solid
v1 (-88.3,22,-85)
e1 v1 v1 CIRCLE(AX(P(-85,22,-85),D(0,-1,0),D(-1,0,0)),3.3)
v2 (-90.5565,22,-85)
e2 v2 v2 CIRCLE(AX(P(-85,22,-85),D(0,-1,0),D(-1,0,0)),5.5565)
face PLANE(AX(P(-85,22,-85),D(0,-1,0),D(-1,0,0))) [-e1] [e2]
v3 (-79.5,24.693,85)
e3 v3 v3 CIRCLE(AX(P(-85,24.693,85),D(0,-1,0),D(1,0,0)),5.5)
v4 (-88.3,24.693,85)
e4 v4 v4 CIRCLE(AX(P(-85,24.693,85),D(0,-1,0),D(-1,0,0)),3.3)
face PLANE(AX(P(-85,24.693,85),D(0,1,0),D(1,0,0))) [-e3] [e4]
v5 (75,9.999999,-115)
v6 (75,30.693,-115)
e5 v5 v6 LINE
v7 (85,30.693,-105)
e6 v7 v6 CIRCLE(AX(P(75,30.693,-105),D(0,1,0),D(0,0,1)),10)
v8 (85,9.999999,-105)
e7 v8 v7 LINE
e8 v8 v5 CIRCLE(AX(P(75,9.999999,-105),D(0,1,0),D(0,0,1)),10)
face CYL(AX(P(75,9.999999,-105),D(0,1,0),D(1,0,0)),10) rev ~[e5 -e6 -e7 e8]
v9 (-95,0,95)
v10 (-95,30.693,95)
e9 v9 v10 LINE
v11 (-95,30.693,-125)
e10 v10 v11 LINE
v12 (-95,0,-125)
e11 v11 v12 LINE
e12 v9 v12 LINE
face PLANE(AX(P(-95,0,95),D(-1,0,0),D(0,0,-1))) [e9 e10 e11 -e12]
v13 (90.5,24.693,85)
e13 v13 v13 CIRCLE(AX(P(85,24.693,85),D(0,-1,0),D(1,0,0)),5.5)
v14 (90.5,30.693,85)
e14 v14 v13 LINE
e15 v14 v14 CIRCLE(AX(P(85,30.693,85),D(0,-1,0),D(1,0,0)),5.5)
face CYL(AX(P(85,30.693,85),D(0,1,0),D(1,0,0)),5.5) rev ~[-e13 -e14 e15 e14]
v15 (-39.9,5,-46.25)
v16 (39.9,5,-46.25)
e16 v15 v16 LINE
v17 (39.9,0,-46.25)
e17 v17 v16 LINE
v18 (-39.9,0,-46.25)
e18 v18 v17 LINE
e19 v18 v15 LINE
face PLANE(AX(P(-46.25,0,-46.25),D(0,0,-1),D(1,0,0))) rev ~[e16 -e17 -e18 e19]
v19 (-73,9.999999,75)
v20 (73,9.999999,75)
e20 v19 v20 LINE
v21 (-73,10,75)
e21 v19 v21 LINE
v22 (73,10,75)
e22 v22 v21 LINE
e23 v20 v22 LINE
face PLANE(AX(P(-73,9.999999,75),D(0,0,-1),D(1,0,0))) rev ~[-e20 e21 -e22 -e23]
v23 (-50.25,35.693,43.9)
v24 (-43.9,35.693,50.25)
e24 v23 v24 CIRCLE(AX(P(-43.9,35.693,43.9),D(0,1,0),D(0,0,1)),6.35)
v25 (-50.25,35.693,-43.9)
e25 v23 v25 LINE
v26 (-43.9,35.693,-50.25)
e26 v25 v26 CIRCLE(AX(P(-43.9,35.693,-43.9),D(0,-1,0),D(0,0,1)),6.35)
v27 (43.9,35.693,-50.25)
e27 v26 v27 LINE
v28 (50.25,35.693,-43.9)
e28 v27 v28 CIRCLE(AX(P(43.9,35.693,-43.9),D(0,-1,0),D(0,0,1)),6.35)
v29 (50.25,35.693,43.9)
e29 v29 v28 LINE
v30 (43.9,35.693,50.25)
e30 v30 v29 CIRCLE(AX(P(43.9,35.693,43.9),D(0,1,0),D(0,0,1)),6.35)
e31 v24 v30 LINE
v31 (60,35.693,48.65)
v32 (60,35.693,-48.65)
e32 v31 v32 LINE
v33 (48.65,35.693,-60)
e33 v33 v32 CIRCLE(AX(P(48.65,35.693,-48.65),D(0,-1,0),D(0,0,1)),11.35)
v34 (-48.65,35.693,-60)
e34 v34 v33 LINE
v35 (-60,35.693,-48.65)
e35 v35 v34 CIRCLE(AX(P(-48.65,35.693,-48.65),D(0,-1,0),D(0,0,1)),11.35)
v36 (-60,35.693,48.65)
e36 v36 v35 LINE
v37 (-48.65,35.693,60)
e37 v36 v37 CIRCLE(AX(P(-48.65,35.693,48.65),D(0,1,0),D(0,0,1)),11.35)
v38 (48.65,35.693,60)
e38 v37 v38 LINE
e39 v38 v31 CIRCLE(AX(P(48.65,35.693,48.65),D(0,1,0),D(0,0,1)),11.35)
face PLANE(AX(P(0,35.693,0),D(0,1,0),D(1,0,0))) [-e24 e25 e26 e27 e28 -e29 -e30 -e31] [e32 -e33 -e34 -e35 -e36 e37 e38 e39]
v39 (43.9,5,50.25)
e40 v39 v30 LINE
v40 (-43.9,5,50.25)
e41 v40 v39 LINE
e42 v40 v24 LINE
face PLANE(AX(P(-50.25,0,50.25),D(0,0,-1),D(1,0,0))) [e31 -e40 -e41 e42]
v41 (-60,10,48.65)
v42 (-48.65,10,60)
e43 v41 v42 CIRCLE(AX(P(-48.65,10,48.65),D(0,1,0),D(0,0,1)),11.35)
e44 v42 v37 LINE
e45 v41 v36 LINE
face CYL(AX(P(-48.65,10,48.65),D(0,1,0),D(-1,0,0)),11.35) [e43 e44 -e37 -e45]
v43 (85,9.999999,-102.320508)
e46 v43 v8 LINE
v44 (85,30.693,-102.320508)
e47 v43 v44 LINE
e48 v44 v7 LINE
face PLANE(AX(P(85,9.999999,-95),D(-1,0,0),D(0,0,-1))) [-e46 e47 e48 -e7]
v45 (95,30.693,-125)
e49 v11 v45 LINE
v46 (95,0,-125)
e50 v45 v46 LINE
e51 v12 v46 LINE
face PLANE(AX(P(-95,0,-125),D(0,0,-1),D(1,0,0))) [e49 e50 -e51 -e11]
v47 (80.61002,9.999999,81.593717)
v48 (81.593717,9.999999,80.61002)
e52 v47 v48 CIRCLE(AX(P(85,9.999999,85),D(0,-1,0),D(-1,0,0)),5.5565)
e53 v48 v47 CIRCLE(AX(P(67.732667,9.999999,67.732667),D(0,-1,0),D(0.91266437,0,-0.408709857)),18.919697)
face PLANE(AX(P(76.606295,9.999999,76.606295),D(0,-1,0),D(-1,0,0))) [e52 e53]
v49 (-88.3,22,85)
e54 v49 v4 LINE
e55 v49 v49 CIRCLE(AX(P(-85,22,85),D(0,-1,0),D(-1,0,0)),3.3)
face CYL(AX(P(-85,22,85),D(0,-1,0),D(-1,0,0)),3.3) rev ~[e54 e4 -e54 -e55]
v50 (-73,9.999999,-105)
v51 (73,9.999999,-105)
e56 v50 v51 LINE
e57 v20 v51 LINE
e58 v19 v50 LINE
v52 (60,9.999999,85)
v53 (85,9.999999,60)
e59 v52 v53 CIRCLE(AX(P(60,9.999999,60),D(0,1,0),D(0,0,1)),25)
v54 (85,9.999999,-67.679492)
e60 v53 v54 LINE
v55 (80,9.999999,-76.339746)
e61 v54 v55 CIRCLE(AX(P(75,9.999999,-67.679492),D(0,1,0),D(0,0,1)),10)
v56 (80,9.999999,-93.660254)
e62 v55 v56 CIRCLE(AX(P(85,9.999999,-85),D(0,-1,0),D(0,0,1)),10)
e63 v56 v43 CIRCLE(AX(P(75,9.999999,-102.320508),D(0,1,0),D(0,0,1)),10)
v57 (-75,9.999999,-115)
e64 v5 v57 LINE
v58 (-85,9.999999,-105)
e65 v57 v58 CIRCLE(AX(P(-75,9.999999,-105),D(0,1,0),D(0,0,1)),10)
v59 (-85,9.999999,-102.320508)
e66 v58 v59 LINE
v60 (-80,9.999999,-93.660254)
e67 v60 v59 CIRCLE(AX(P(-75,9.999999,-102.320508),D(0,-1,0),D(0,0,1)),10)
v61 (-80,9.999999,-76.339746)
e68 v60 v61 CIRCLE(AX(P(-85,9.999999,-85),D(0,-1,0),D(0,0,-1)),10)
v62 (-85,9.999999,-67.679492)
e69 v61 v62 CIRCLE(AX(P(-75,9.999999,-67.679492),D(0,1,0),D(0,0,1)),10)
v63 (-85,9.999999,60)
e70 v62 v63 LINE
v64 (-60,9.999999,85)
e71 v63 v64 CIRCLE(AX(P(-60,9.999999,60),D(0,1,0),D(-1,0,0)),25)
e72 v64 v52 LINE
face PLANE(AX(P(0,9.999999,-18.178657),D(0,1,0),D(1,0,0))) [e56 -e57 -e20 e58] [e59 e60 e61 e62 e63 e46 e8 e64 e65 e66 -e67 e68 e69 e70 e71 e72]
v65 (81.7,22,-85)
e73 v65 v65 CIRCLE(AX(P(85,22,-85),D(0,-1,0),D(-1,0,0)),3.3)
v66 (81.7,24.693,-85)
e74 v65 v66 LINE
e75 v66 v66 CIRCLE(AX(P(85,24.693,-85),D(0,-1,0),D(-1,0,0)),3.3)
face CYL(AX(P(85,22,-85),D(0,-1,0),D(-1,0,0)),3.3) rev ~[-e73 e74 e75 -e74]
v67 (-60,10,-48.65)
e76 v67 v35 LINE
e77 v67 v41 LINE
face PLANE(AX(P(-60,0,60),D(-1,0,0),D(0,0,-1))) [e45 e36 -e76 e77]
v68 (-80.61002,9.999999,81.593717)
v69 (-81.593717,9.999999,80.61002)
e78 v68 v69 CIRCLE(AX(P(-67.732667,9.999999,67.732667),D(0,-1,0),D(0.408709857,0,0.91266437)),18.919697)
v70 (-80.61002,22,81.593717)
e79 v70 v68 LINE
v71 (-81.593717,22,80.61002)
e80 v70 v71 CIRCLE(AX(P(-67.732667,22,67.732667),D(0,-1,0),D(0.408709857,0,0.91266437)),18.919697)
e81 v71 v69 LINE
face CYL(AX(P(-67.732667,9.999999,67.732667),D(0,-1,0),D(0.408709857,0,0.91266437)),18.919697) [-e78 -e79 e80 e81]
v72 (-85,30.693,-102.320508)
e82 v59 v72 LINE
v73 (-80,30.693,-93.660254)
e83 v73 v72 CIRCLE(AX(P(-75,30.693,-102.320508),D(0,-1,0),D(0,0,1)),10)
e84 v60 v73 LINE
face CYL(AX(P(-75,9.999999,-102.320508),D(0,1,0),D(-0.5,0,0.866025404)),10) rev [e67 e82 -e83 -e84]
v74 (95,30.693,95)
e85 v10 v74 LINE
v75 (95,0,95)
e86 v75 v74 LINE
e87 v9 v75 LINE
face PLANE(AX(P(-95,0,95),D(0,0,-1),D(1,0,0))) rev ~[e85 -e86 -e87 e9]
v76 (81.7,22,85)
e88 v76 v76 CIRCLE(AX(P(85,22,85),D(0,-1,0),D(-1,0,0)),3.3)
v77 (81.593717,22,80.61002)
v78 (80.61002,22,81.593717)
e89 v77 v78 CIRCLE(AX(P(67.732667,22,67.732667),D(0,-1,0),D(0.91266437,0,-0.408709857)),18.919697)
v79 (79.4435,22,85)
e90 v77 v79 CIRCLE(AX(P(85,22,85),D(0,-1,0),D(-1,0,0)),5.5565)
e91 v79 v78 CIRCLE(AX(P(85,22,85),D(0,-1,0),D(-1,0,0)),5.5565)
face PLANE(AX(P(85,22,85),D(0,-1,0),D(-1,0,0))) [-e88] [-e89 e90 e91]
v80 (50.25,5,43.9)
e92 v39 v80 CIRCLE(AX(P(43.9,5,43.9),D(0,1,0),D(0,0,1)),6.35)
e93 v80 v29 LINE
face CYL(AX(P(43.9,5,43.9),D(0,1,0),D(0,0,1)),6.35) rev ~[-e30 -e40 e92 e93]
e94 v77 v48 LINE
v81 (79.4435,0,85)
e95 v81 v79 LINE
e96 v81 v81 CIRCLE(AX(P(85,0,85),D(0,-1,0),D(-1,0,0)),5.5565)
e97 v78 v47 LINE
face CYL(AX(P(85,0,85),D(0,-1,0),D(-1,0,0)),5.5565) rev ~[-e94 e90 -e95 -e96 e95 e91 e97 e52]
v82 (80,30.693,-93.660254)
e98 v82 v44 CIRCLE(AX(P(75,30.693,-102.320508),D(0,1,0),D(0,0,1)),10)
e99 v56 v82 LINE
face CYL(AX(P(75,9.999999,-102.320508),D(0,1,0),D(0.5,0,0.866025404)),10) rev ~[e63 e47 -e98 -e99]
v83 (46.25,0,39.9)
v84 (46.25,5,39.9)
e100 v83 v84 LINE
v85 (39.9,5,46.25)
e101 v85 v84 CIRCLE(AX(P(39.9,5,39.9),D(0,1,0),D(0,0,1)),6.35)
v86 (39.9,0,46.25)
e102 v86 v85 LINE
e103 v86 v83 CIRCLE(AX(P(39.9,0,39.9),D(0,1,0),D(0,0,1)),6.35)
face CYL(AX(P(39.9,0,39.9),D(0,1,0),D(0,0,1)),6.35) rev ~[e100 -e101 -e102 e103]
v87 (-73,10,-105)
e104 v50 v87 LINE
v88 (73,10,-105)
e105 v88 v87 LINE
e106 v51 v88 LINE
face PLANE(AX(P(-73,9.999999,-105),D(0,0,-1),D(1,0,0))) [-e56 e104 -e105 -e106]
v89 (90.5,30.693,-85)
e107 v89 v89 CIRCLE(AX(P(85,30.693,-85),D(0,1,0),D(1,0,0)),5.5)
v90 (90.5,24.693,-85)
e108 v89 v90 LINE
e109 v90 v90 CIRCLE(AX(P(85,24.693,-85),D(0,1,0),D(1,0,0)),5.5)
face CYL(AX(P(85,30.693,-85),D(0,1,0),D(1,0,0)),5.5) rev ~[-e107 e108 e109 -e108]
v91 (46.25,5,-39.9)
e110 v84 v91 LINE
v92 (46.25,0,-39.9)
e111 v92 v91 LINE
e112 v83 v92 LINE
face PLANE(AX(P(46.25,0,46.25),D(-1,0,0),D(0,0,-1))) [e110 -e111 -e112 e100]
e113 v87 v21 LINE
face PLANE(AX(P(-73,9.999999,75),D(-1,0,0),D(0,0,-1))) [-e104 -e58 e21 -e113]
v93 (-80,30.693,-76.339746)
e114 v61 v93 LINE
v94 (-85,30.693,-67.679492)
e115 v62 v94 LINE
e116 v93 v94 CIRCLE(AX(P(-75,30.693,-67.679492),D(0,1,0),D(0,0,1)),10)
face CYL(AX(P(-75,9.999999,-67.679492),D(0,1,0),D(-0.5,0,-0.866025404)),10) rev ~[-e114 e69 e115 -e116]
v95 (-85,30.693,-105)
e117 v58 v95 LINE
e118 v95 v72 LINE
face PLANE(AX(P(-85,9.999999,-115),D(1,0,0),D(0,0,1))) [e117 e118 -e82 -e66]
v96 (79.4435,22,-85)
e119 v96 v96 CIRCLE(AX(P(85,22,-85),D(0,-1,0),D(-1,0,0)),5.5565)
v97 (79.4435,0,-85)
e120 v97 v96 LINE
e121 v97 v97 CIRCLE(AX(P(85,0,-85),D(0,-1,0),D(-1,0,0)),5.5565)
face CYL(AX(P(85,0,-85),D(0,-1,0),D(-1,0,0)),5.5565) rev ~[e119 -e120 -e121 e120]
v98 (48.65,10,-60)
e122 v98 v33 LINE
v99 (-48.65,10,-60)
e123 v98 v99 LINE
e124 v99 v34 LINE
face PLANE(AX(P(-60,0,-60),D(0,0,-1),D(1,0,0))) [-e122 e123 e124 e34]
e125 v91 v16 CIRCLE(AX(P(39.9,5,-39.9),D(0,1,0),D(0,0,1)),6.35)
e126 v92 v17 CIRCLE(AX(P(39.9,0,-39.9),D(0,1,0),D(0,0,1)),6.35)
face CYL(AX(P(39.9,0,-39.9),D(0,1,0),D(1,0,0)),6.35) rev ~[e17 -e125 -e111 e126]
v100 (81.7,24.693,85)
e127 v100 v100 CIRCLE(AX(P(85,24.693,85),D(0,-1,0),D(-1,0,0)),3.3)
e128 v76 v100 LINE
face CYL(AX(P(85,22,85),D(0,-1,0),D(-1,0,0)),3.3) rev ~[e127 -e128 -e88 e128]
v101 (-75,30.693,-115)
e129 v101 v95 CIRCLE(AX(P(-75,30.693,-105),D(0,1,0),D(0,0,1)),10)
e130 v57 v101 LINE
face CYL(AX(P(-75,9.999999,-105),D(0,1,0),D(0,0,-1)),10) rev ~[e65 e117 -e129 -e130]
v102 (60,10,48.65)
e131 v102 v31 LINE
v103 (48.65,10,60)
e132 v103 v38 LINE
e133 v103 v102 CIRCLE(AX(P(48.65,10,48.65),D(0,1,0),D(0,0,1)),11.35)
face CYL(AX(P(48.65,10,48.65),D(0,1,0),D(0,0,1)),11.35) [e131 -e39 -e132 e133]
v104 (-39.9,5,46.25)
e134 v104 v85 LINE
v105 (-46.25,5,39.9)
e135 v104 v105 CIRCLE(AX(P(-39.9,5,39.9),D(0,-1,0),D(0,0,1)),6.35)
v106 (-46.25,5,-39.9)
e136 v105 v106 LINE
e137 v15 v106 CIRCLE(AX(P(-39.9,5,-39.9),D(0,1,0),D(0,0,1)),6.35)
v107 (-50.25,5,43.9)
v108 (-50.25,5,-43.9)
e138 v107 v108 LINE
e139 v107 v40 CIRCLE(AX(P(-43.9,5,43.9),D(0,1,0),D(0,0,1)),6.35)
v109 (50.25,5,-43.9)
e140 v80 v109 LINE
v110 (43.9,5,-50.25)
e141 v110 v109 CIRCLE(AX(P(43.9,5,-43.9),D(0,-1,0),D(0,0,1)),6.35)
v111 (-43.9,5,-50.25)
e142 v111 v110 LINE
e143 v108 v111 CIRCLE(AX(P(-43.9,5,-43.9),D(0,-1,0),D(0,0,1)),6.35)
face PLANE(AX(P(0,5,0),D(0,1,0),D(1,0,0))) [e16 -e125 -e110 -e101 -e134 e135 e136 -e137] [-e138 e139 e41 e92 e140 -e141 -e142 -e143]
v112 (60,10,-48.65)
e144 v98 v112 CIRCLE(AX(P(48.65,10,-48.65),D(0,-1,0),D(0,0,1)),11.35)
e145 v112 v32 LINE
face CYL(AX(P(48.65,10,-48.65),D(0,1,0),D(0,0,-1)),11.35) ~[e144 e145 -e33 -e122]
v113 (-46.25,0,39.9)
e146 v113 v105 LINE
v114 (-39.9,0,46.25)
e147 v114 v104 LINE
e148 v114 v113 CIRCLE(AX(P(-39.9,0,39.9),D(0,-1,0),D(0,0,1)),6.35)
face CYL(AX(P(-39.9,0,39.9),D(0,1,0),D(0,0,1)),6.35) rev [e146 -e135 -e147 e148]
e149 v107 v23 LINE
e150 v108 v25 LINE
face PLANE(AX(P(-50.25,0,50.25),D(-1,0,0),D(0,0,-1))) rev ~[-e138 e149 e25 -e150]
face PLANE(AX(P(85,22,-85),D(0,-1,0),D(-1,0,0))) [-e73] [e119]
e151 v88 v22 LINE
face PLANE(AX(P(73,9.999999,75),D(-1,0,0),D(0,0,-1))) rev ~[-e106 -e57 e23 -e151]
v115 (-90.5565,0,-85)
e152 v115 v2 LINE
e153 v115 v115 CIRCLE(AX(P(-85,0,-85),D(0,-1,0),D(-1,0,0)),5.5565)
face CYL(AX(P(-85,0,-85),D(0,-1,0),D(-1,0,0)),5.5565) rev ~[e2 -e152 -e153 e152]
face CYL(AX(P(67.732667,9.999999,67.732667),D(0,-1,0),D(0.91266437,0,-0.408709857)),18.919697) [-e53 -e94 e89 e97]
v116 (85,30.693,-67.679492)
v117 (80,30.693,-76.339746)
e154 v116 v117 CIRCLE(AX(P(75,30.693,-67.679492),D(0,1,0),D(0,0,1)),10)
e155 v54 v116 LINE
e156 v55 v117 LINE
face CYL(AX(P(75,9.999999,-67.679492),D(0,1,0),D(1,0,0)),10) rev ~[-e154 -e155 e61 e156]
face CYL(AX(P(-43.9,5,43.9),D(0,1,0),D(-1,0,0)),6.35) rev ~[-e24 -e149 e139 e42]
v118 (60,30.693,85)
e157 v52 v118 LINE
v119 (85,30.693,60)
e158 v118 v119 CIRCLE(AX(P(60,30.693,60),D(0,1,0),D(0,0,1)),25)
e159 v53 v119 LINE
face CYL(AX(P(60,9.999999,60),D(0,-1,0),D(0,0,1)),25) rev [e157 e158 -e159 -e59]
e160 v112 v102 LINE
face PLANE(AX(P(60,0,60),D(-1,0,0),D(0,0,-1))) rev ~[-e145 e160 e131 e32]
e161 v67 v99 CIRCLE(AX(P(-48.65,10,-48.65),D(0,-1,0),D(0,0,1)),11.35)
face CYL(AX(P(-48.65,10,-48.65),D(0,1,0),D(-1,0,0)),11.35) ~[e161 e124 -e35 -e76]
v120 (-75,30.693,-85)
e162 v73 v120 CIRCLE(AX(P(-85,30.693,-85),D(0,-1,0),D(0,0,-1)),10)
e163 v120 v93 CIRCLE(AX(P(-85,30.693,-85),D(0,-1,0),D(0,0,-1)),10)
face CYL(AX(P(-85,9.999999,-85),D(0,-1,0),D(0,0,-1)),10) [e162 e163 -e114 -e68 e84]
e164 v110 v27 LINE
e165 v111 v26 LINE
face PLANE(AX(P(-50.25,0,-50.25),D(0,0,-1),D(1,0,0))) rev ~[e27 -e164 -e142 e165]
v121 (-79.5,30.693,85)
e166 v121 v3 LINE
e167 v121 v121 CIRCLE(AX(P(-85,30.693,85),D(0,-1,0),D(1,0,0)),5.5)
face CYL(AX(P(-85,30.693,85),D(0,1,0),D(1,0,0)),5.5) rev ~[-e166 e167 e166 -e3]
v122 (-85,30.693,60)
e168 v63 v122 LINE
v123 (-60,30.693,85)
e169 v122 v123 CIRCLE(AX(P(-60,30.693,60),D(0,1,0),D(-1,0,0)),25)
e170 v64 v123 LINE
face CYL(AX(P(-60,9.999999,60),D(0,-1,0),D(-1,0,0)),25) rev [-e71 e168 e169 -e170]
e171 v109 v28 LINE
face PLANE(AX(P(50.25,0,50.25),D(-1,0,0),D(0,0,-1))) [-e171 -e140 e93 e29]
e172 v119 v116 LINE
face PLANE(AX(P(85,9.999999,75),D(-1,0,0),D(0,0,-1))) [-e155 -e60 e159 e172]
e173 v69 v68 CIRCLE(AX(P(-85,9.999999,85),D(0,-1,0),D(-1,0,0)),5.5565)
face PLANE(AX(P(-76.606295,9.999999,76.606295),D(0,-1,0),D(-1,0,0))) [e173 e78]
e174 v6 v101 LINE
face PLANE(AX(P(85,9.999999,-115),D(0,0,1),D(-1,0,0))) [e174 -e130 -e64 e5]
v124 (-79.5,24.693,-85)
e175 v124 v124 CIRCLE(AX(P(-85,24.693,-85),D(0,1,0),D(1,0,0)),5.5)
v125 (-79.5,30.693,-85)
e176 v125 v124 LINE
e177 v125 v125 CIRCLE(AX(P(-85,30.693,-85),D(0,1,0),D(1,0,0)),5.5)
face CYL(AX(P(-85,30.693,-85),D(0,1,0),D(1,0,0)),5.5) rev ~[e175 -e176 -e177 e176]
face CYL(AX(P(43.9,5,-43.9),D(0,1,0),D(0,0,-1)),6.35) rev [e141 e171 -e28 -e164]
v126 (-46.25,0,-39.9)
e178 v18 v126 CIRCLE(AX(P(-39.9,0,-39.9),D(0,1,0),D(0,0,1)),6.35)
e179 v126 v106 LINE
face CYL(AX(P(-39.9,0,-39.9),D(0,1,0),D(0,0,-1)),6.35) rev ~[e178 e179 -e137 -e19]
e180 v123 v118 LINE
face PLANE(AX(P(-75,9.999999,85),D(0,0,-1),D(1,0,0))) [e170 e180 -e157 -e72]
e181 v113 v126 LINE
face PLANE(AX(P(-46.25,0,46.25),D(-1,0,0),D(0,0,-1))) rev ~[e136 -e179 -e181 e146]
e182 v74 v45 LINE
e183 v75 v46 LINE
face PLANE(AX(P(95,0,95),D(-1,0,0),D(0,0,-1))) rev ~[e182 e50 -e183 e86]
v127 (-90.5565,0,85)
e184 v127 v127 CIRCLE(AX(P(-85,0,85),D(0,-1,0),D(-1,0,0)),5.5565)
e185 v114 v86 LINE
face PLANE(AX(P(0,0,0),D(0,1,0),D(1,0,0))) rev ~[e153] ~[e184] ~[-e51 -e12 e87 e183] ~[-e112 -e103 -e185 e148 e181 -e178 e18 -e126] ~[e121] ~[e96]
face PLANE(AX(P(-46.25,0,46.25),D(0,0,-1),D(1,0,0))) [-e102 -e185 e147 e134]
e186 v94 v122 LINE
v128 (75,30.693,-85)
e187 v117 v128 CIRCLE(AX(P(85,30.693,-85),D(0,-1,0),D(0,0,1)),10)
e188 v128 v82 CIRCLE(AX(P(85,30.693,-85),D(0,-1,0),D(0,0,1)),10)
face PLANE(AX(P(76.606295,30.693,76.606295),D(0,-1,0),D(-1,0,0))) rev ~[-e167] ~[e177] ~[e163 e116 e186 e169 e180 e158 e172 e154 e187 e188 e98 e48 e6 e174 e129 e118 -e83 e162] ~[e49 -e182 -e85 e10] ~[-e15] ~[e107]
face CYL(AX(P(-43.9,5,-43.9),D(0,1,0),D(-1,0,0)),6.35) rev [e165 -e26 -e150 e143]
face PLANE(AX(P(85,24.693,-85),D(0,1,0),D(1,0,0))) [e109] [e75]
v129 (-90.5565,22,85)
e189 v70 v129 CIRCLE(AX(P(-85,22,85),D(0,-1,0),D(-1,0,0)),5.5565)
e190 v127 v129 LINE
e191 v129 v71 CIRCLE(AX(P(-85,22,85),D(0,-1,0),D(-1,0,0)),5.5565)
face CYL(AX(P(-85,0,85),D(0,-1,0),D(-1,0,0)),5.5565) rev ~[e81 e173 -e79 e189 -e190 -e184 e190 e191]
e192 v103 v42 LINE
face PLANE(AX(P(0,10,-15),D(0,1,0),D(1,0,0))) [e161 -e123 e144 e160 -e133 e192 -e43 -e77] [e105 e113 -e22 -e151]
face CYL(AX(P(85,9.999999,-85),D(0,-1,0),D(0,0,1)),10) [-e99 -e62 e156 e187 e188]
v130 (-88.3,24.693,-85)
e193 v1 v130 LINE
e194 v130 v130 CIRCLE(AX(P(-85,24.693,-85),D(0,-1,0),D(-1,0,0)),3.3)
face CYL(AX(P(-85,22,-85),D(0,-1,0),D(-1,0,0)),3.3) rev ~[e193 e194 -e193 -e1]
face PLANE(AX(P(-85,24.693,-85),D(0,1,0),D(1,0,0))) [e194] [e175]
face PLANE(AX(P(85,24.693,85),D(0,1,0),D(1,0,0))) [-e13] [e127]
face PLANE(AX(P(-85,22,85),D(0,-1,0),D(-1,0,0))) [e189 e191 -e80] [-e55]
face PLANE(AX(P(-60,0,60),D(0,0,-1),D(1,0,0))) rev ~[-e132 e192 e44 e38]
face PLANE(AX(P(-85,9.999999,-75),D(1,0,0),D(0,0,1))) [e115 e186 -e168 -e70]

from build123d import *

# Parameters (mm, degrees)
SKETCH1_W           = 190
SKETCH1_H           = 220
SKETCH1_W_2         = 150
SKETCH1_H_2         = 180
SKETCH1_W_3         = 120
SKETCH1_H_3         = 120
SKETCH1_W_4         = 100
SKETCH1_H_4         = 100
BOSS_EXTRUDE1_DEPTH = 10
SKETCH1_3_W         = 190
SKETCH1_3_H         = 220
SKETCH1_3_W_2       = 150
SKETCH1_3_H_2       = 180
SKETCH1_3_W_3       = 120
SKETCH1_3_H_3       = 120
SKETCH1_3_W_4       = 100
SKETCH1_3_H_4       = 100
BOSS_EXTRUDE2_DEPTH = 35.693
SKETCH3_W           = 190
SKETCH3_H           = 220
SKETCH3_W_2         = 150
SKETCH3_H_2         = 180
CUT_EXTRUDE1_DEPTH  = 5
SKETCH5_R           = 5.5565
CUT_EXTRUDE2_DEPTH  = 22
SKETCH7_R           = 3.3
CUT_EXTRUDE3_DEPTH  = 14.693
CUT_EXTRUDE4_START  = -1e-06
SKETCH8_W           = 146
SKETCH8_H           = 180
CUT_EXTRUDE4_DEPTH  = 20.693001
FILLET1_R           = 10
SKETCH10_R          = 5.5
CUT_EXTRUDE5_DEPTH  = 6
BOSS_EXTRUDE5_START = -1e-06
BOSS_EXTRUDE5_DEPTH = 20.693001
CUT_EXTRUDE10_REACH = 37.693
SKETCH13_W          = 100.5
SKETCH13_H          = 100.5
FILLET2_R           = 11.35
SKETCH14_W          = 100.5
SKETCH14_H          = 100.5
SKETCH14_W_2        = 92.5
SKETCH14_H_2        = 92.5
BOSS_EXTRUDE6_DEPTH = 5
FILLET3_R           = 6.35
FILLET4_R           = 6.35


with BuildPart() as part:
    # Sketch1 → Boss-Extrude1 (new body)
    with BuildSketch(Plane(origin=(0, 0, 0), x_dir=(1, 0, 0), z_dir=(0, 1, 0))):
        with Locations((0, 15)):
            Rectangle(SKETCH1_W, SKETCH1_H)
        with Locations((0, 15)):
            Rectangle(SKETCH1_W_2, SKETCH1_H_2, mode=Mode.SUBTRACT)
        with Locations((0, 15)):
            Rectangle(SKETCH1_W_2, SKETCH1_H_2)
        Rectangle(SKETCH1_W_3, SKETCH1_H_3, mode=Mode.SUBTRACT)
        Rectangle(SKETCH1_W_3, SKETCH1_H_3)
        Rectangle(SKETCH1_W_4, SKETCH1_H_4, mode=Mode.SUBTRACT)
    extrude(amount=BOSS_EXTRUDE1_DEPTH)

    # Sketch1<3> → Boss-Extrude2 (add)
    with BuildSketch(Plane(origin=(0, 0, 0), x_dir=(1, 0, 0), z_dir=(0, 1, 0))):
        with Locations((0, 15)):
            Rectangle(SKETCH1_3_W, SKETCH1_3_H)
        with Locations((0, 15)):
            Rectangle(SKETCH1_3_W_2, SKETCH1_3_H_2, mode=Mode.SUBTRACT)
        Rectangle(SKETCH1_3_W_3, SKETCH1_3_H_3)
        Rectangle(SKETCH1_3_W_4, SKETCH1_3_H_4, mode=Mode.SUBTRACT)
    extrude(amount=BOSS_EXTRUDE2_DEPTH)

    # Sketch3 → Cut-Extrude1 (cut)
    with BuildSketch(Plane(origin=(0, 35.693, 0), x_dir=(1, 0, 0), z_dir=(0, 1, 0))):
        with Locations((0, 15)):
            Rectangle(SKETCH3_W, SKETCH3_H)
        with Locations((0, 15)):
            Rectangle(SKETCH3_W_2, SKETCH3_H_2, mode=Mode.SUBTRACT)
    extrude(amount=-CUT_EXTRUDE1_DEPTH, mode=Mode.SUBTRACT)

    # Sketch5 → Cut-Extrude2 (cut)
    with BuildSketch(Plane(origin=(0, 0, 0), x_dir=(-1, 0, 0), z_dir=(0, -1, 0))):
        with Locations((85, 85)):
            Circle(SKETCH5_R)
        with Locations((85, -85)):
            Circle(SKETCH5_R)
        with Locations((-85, -85)):
            Circle(SKETCH5_R)
        with Locations((-85, 85)):
            Circle(SKETCH5_R)
    extrude(amount=-CUT_EXTRUDE2_DEPTH, mode=Mode.SUBTRACT)

    # Sketch7 → Cut-Extrude3 (cut, through all)
    with BuildSketch(Plane(origin=(0, 22, 0), x_dir=(-1, 0, 0), z_dir=(0, -1, 0))):
        with Locations((85, 85)):
            Circle(SKETCH7_R)
        with Locations((85, -85)):
            Circle(SKETCH7_R)
        with Locations((-85, -85)):
            Circle(SKETCH7_R)
        with Locations((-85, 85)):
            Circle(SKETCH7_R)
    extrude(amount=-CUT_EXTRUDE3_DEPTH, mode=Mode.SUBTRACT)

    # Sketch8 → Cut-Extrude4 (cut)
    with BuildSketch(Plane(origin=(0, 10, 0), x_dir=(1, 0, 0), z_dir=(0, 1, 0)).offset(CUT_EXTRUDE4_START)):
        with BuildLine():
            Line((85, 115), (-85, 115))
            Line((-85, 115), (-85, 95))
            ThreePointArc((-85, 95), (-75, 85), (-85, 75))
            Line((-85, 75), (-85, -75))
            ThreePointArc((-85, -75), (-77.928932188, -77.928932188), (-75, -85))
            Line((-75, -85), (75, -85))
            ThreePointArc((75, -85), (77.928932188, -77.928932188), (85, -75))
            Line((85, -75), (85, 75))
            ThreePointArc((85, 75), (75, 85), (85, 95))
            Line((85, 95), (85, 115))
        make_face()
        with Locations((0, 15)):
            Rectangle(SKETCH8_W, SKETCH8_H, mode=Mode.SUBTRACT)
    extrude(amount=CUT_EXTRUDE4_DEPTH, mode=Mode.SUBTRACT)

    # Fillet1
    fillet1_edges = [part.edges().sort_by_distance(p)[0] for p in [
        (85, 20.3464995, -75),
        (-85, 20.3464995, -75),
        (-85, 20.3464995, -95),
        (85, 20.3464995, -95),
        (85, 20.3464995, -115),
        (-85, 20.3464995, -115),
    ]]
    fillet(fillet1_edges, radius=FILLET1_R)

    # Sketch10 → Cut-Extrude5 (cut)
    with BuildSketch(Plane(origin=(0, 30.693, 0), x_dir=(1, 0, 0), z_dir=(0, 1, 0))):
        with Locations((85, 85)):
            Circle(SKETCH10_R)
        with Locations((85, -85)):
            Circle(SKETCH10_R)
        with Locations((-85, -85)):
            Circle(SKETCH10_R)
        with Locations((-85, 85)):
            Circle(SKETCH10_R)
    extrude(amount=-CUT_EXTRUDE5_DEPTH, mode=Mode.SUBTRACT)

    # Sketch11 → Boss-Extrude5 (add)
    with BuildSketch(Plane(origin=(0, 10, 0), x_dir=(1, 0, 0), z_dir=(0, 1, 0)).offset(BOSS_EXTRUDE5_START)):
        with BuildLine():
            ThreePointArc((60, -85), (77.67766953, -77.67766953), (85, -60))
            ThreePointArc((85, -60), (81.110912703, -81.110912703), (60, -85))
        make_face()
        with BuildLine():
            ThreePointArc((-85, -60), (-77.67766953, -77.67766953), (-60, -85))
            ThreePointArc((-60, -85), (-81.110912703, -81.110912703), (-85, -60))
        make_face()
    extrude(amount=BOSS_EXTRUDE5_DEPTH)

    # Sketch13 → Cut-Extrude10 (cut, up to next)
    with BuildSketch(Plane(origin=(0, 0, 0), x_dir=(1, 0, 0), z_dir=(0, 1, 0)), mode=Mode.PRIVATE) as cut_extrude10_sk1:
        Rectangle(SKETCH13_W, SKETCH13_H)
    cut_extrude10_tool1 = extrude(cut_extrude10_sk1.sketch, amount=CUT_EXTRUDE10_REACH, mode=Mode.PRIVATE) & part.part
    add(cut_extrude10_tool1.solids().sort_by_distance((0, 0, 0))[0], mode=Mode.SUBTRACT)

    # Fillet2
    fillet2_edges = [part.edges().sort_by_distance(p)[0] for p in [
        (60, 22.8465, 60),
        (60, 22.8465, -60),
        (-60, 22.8465, -60),
        (-60, 22.8465, 60),
    ]]
    fillet(fillet2_edges, radius=FILLET2_R)

    # Sketch14 → Boss-Extrude6 (add)
    with BuildSketch(Plane(origin=(0, 0, 0), x_dir=(1, 0, 0), z_dir=(0, 1, 0))):
        Rectangle(SKETCH14_W, SKETCH14_H)
        Rectangle(SKETCH14_W_2, SKETCH14_H_2, mode=Mode.SUBTRACT)
    extrude(amount=BOSS_EXTRUDE6_DEPTH)

    # Fillet3
    fillet3_edges = [part.edges().sort_by_distance(p)[0] for p in [
        (-50.25, 20.3465, -50.25),
        (-50.25, 20.3465, 50.25),
        (50.25, 20.3465, 50.25),
        (50.25, 20.3465, -50.25),
    ]]
    fillet(fillet3_edges, radius=FILLET3_R)

    # Fillet4
    fillet4_edges = [part.edges().sort_by_distance(p)[0] for p in [
        (46.25, 2.5, -46.25),
        (-46.25, 2.5, -46.25),
        (-46.25, 2.5, 46.25),
        (46.25, 2.5, 46.25),
    ]]
    fillet(fillet4_edges, radius=FILLET4_R)


solid = part.part
